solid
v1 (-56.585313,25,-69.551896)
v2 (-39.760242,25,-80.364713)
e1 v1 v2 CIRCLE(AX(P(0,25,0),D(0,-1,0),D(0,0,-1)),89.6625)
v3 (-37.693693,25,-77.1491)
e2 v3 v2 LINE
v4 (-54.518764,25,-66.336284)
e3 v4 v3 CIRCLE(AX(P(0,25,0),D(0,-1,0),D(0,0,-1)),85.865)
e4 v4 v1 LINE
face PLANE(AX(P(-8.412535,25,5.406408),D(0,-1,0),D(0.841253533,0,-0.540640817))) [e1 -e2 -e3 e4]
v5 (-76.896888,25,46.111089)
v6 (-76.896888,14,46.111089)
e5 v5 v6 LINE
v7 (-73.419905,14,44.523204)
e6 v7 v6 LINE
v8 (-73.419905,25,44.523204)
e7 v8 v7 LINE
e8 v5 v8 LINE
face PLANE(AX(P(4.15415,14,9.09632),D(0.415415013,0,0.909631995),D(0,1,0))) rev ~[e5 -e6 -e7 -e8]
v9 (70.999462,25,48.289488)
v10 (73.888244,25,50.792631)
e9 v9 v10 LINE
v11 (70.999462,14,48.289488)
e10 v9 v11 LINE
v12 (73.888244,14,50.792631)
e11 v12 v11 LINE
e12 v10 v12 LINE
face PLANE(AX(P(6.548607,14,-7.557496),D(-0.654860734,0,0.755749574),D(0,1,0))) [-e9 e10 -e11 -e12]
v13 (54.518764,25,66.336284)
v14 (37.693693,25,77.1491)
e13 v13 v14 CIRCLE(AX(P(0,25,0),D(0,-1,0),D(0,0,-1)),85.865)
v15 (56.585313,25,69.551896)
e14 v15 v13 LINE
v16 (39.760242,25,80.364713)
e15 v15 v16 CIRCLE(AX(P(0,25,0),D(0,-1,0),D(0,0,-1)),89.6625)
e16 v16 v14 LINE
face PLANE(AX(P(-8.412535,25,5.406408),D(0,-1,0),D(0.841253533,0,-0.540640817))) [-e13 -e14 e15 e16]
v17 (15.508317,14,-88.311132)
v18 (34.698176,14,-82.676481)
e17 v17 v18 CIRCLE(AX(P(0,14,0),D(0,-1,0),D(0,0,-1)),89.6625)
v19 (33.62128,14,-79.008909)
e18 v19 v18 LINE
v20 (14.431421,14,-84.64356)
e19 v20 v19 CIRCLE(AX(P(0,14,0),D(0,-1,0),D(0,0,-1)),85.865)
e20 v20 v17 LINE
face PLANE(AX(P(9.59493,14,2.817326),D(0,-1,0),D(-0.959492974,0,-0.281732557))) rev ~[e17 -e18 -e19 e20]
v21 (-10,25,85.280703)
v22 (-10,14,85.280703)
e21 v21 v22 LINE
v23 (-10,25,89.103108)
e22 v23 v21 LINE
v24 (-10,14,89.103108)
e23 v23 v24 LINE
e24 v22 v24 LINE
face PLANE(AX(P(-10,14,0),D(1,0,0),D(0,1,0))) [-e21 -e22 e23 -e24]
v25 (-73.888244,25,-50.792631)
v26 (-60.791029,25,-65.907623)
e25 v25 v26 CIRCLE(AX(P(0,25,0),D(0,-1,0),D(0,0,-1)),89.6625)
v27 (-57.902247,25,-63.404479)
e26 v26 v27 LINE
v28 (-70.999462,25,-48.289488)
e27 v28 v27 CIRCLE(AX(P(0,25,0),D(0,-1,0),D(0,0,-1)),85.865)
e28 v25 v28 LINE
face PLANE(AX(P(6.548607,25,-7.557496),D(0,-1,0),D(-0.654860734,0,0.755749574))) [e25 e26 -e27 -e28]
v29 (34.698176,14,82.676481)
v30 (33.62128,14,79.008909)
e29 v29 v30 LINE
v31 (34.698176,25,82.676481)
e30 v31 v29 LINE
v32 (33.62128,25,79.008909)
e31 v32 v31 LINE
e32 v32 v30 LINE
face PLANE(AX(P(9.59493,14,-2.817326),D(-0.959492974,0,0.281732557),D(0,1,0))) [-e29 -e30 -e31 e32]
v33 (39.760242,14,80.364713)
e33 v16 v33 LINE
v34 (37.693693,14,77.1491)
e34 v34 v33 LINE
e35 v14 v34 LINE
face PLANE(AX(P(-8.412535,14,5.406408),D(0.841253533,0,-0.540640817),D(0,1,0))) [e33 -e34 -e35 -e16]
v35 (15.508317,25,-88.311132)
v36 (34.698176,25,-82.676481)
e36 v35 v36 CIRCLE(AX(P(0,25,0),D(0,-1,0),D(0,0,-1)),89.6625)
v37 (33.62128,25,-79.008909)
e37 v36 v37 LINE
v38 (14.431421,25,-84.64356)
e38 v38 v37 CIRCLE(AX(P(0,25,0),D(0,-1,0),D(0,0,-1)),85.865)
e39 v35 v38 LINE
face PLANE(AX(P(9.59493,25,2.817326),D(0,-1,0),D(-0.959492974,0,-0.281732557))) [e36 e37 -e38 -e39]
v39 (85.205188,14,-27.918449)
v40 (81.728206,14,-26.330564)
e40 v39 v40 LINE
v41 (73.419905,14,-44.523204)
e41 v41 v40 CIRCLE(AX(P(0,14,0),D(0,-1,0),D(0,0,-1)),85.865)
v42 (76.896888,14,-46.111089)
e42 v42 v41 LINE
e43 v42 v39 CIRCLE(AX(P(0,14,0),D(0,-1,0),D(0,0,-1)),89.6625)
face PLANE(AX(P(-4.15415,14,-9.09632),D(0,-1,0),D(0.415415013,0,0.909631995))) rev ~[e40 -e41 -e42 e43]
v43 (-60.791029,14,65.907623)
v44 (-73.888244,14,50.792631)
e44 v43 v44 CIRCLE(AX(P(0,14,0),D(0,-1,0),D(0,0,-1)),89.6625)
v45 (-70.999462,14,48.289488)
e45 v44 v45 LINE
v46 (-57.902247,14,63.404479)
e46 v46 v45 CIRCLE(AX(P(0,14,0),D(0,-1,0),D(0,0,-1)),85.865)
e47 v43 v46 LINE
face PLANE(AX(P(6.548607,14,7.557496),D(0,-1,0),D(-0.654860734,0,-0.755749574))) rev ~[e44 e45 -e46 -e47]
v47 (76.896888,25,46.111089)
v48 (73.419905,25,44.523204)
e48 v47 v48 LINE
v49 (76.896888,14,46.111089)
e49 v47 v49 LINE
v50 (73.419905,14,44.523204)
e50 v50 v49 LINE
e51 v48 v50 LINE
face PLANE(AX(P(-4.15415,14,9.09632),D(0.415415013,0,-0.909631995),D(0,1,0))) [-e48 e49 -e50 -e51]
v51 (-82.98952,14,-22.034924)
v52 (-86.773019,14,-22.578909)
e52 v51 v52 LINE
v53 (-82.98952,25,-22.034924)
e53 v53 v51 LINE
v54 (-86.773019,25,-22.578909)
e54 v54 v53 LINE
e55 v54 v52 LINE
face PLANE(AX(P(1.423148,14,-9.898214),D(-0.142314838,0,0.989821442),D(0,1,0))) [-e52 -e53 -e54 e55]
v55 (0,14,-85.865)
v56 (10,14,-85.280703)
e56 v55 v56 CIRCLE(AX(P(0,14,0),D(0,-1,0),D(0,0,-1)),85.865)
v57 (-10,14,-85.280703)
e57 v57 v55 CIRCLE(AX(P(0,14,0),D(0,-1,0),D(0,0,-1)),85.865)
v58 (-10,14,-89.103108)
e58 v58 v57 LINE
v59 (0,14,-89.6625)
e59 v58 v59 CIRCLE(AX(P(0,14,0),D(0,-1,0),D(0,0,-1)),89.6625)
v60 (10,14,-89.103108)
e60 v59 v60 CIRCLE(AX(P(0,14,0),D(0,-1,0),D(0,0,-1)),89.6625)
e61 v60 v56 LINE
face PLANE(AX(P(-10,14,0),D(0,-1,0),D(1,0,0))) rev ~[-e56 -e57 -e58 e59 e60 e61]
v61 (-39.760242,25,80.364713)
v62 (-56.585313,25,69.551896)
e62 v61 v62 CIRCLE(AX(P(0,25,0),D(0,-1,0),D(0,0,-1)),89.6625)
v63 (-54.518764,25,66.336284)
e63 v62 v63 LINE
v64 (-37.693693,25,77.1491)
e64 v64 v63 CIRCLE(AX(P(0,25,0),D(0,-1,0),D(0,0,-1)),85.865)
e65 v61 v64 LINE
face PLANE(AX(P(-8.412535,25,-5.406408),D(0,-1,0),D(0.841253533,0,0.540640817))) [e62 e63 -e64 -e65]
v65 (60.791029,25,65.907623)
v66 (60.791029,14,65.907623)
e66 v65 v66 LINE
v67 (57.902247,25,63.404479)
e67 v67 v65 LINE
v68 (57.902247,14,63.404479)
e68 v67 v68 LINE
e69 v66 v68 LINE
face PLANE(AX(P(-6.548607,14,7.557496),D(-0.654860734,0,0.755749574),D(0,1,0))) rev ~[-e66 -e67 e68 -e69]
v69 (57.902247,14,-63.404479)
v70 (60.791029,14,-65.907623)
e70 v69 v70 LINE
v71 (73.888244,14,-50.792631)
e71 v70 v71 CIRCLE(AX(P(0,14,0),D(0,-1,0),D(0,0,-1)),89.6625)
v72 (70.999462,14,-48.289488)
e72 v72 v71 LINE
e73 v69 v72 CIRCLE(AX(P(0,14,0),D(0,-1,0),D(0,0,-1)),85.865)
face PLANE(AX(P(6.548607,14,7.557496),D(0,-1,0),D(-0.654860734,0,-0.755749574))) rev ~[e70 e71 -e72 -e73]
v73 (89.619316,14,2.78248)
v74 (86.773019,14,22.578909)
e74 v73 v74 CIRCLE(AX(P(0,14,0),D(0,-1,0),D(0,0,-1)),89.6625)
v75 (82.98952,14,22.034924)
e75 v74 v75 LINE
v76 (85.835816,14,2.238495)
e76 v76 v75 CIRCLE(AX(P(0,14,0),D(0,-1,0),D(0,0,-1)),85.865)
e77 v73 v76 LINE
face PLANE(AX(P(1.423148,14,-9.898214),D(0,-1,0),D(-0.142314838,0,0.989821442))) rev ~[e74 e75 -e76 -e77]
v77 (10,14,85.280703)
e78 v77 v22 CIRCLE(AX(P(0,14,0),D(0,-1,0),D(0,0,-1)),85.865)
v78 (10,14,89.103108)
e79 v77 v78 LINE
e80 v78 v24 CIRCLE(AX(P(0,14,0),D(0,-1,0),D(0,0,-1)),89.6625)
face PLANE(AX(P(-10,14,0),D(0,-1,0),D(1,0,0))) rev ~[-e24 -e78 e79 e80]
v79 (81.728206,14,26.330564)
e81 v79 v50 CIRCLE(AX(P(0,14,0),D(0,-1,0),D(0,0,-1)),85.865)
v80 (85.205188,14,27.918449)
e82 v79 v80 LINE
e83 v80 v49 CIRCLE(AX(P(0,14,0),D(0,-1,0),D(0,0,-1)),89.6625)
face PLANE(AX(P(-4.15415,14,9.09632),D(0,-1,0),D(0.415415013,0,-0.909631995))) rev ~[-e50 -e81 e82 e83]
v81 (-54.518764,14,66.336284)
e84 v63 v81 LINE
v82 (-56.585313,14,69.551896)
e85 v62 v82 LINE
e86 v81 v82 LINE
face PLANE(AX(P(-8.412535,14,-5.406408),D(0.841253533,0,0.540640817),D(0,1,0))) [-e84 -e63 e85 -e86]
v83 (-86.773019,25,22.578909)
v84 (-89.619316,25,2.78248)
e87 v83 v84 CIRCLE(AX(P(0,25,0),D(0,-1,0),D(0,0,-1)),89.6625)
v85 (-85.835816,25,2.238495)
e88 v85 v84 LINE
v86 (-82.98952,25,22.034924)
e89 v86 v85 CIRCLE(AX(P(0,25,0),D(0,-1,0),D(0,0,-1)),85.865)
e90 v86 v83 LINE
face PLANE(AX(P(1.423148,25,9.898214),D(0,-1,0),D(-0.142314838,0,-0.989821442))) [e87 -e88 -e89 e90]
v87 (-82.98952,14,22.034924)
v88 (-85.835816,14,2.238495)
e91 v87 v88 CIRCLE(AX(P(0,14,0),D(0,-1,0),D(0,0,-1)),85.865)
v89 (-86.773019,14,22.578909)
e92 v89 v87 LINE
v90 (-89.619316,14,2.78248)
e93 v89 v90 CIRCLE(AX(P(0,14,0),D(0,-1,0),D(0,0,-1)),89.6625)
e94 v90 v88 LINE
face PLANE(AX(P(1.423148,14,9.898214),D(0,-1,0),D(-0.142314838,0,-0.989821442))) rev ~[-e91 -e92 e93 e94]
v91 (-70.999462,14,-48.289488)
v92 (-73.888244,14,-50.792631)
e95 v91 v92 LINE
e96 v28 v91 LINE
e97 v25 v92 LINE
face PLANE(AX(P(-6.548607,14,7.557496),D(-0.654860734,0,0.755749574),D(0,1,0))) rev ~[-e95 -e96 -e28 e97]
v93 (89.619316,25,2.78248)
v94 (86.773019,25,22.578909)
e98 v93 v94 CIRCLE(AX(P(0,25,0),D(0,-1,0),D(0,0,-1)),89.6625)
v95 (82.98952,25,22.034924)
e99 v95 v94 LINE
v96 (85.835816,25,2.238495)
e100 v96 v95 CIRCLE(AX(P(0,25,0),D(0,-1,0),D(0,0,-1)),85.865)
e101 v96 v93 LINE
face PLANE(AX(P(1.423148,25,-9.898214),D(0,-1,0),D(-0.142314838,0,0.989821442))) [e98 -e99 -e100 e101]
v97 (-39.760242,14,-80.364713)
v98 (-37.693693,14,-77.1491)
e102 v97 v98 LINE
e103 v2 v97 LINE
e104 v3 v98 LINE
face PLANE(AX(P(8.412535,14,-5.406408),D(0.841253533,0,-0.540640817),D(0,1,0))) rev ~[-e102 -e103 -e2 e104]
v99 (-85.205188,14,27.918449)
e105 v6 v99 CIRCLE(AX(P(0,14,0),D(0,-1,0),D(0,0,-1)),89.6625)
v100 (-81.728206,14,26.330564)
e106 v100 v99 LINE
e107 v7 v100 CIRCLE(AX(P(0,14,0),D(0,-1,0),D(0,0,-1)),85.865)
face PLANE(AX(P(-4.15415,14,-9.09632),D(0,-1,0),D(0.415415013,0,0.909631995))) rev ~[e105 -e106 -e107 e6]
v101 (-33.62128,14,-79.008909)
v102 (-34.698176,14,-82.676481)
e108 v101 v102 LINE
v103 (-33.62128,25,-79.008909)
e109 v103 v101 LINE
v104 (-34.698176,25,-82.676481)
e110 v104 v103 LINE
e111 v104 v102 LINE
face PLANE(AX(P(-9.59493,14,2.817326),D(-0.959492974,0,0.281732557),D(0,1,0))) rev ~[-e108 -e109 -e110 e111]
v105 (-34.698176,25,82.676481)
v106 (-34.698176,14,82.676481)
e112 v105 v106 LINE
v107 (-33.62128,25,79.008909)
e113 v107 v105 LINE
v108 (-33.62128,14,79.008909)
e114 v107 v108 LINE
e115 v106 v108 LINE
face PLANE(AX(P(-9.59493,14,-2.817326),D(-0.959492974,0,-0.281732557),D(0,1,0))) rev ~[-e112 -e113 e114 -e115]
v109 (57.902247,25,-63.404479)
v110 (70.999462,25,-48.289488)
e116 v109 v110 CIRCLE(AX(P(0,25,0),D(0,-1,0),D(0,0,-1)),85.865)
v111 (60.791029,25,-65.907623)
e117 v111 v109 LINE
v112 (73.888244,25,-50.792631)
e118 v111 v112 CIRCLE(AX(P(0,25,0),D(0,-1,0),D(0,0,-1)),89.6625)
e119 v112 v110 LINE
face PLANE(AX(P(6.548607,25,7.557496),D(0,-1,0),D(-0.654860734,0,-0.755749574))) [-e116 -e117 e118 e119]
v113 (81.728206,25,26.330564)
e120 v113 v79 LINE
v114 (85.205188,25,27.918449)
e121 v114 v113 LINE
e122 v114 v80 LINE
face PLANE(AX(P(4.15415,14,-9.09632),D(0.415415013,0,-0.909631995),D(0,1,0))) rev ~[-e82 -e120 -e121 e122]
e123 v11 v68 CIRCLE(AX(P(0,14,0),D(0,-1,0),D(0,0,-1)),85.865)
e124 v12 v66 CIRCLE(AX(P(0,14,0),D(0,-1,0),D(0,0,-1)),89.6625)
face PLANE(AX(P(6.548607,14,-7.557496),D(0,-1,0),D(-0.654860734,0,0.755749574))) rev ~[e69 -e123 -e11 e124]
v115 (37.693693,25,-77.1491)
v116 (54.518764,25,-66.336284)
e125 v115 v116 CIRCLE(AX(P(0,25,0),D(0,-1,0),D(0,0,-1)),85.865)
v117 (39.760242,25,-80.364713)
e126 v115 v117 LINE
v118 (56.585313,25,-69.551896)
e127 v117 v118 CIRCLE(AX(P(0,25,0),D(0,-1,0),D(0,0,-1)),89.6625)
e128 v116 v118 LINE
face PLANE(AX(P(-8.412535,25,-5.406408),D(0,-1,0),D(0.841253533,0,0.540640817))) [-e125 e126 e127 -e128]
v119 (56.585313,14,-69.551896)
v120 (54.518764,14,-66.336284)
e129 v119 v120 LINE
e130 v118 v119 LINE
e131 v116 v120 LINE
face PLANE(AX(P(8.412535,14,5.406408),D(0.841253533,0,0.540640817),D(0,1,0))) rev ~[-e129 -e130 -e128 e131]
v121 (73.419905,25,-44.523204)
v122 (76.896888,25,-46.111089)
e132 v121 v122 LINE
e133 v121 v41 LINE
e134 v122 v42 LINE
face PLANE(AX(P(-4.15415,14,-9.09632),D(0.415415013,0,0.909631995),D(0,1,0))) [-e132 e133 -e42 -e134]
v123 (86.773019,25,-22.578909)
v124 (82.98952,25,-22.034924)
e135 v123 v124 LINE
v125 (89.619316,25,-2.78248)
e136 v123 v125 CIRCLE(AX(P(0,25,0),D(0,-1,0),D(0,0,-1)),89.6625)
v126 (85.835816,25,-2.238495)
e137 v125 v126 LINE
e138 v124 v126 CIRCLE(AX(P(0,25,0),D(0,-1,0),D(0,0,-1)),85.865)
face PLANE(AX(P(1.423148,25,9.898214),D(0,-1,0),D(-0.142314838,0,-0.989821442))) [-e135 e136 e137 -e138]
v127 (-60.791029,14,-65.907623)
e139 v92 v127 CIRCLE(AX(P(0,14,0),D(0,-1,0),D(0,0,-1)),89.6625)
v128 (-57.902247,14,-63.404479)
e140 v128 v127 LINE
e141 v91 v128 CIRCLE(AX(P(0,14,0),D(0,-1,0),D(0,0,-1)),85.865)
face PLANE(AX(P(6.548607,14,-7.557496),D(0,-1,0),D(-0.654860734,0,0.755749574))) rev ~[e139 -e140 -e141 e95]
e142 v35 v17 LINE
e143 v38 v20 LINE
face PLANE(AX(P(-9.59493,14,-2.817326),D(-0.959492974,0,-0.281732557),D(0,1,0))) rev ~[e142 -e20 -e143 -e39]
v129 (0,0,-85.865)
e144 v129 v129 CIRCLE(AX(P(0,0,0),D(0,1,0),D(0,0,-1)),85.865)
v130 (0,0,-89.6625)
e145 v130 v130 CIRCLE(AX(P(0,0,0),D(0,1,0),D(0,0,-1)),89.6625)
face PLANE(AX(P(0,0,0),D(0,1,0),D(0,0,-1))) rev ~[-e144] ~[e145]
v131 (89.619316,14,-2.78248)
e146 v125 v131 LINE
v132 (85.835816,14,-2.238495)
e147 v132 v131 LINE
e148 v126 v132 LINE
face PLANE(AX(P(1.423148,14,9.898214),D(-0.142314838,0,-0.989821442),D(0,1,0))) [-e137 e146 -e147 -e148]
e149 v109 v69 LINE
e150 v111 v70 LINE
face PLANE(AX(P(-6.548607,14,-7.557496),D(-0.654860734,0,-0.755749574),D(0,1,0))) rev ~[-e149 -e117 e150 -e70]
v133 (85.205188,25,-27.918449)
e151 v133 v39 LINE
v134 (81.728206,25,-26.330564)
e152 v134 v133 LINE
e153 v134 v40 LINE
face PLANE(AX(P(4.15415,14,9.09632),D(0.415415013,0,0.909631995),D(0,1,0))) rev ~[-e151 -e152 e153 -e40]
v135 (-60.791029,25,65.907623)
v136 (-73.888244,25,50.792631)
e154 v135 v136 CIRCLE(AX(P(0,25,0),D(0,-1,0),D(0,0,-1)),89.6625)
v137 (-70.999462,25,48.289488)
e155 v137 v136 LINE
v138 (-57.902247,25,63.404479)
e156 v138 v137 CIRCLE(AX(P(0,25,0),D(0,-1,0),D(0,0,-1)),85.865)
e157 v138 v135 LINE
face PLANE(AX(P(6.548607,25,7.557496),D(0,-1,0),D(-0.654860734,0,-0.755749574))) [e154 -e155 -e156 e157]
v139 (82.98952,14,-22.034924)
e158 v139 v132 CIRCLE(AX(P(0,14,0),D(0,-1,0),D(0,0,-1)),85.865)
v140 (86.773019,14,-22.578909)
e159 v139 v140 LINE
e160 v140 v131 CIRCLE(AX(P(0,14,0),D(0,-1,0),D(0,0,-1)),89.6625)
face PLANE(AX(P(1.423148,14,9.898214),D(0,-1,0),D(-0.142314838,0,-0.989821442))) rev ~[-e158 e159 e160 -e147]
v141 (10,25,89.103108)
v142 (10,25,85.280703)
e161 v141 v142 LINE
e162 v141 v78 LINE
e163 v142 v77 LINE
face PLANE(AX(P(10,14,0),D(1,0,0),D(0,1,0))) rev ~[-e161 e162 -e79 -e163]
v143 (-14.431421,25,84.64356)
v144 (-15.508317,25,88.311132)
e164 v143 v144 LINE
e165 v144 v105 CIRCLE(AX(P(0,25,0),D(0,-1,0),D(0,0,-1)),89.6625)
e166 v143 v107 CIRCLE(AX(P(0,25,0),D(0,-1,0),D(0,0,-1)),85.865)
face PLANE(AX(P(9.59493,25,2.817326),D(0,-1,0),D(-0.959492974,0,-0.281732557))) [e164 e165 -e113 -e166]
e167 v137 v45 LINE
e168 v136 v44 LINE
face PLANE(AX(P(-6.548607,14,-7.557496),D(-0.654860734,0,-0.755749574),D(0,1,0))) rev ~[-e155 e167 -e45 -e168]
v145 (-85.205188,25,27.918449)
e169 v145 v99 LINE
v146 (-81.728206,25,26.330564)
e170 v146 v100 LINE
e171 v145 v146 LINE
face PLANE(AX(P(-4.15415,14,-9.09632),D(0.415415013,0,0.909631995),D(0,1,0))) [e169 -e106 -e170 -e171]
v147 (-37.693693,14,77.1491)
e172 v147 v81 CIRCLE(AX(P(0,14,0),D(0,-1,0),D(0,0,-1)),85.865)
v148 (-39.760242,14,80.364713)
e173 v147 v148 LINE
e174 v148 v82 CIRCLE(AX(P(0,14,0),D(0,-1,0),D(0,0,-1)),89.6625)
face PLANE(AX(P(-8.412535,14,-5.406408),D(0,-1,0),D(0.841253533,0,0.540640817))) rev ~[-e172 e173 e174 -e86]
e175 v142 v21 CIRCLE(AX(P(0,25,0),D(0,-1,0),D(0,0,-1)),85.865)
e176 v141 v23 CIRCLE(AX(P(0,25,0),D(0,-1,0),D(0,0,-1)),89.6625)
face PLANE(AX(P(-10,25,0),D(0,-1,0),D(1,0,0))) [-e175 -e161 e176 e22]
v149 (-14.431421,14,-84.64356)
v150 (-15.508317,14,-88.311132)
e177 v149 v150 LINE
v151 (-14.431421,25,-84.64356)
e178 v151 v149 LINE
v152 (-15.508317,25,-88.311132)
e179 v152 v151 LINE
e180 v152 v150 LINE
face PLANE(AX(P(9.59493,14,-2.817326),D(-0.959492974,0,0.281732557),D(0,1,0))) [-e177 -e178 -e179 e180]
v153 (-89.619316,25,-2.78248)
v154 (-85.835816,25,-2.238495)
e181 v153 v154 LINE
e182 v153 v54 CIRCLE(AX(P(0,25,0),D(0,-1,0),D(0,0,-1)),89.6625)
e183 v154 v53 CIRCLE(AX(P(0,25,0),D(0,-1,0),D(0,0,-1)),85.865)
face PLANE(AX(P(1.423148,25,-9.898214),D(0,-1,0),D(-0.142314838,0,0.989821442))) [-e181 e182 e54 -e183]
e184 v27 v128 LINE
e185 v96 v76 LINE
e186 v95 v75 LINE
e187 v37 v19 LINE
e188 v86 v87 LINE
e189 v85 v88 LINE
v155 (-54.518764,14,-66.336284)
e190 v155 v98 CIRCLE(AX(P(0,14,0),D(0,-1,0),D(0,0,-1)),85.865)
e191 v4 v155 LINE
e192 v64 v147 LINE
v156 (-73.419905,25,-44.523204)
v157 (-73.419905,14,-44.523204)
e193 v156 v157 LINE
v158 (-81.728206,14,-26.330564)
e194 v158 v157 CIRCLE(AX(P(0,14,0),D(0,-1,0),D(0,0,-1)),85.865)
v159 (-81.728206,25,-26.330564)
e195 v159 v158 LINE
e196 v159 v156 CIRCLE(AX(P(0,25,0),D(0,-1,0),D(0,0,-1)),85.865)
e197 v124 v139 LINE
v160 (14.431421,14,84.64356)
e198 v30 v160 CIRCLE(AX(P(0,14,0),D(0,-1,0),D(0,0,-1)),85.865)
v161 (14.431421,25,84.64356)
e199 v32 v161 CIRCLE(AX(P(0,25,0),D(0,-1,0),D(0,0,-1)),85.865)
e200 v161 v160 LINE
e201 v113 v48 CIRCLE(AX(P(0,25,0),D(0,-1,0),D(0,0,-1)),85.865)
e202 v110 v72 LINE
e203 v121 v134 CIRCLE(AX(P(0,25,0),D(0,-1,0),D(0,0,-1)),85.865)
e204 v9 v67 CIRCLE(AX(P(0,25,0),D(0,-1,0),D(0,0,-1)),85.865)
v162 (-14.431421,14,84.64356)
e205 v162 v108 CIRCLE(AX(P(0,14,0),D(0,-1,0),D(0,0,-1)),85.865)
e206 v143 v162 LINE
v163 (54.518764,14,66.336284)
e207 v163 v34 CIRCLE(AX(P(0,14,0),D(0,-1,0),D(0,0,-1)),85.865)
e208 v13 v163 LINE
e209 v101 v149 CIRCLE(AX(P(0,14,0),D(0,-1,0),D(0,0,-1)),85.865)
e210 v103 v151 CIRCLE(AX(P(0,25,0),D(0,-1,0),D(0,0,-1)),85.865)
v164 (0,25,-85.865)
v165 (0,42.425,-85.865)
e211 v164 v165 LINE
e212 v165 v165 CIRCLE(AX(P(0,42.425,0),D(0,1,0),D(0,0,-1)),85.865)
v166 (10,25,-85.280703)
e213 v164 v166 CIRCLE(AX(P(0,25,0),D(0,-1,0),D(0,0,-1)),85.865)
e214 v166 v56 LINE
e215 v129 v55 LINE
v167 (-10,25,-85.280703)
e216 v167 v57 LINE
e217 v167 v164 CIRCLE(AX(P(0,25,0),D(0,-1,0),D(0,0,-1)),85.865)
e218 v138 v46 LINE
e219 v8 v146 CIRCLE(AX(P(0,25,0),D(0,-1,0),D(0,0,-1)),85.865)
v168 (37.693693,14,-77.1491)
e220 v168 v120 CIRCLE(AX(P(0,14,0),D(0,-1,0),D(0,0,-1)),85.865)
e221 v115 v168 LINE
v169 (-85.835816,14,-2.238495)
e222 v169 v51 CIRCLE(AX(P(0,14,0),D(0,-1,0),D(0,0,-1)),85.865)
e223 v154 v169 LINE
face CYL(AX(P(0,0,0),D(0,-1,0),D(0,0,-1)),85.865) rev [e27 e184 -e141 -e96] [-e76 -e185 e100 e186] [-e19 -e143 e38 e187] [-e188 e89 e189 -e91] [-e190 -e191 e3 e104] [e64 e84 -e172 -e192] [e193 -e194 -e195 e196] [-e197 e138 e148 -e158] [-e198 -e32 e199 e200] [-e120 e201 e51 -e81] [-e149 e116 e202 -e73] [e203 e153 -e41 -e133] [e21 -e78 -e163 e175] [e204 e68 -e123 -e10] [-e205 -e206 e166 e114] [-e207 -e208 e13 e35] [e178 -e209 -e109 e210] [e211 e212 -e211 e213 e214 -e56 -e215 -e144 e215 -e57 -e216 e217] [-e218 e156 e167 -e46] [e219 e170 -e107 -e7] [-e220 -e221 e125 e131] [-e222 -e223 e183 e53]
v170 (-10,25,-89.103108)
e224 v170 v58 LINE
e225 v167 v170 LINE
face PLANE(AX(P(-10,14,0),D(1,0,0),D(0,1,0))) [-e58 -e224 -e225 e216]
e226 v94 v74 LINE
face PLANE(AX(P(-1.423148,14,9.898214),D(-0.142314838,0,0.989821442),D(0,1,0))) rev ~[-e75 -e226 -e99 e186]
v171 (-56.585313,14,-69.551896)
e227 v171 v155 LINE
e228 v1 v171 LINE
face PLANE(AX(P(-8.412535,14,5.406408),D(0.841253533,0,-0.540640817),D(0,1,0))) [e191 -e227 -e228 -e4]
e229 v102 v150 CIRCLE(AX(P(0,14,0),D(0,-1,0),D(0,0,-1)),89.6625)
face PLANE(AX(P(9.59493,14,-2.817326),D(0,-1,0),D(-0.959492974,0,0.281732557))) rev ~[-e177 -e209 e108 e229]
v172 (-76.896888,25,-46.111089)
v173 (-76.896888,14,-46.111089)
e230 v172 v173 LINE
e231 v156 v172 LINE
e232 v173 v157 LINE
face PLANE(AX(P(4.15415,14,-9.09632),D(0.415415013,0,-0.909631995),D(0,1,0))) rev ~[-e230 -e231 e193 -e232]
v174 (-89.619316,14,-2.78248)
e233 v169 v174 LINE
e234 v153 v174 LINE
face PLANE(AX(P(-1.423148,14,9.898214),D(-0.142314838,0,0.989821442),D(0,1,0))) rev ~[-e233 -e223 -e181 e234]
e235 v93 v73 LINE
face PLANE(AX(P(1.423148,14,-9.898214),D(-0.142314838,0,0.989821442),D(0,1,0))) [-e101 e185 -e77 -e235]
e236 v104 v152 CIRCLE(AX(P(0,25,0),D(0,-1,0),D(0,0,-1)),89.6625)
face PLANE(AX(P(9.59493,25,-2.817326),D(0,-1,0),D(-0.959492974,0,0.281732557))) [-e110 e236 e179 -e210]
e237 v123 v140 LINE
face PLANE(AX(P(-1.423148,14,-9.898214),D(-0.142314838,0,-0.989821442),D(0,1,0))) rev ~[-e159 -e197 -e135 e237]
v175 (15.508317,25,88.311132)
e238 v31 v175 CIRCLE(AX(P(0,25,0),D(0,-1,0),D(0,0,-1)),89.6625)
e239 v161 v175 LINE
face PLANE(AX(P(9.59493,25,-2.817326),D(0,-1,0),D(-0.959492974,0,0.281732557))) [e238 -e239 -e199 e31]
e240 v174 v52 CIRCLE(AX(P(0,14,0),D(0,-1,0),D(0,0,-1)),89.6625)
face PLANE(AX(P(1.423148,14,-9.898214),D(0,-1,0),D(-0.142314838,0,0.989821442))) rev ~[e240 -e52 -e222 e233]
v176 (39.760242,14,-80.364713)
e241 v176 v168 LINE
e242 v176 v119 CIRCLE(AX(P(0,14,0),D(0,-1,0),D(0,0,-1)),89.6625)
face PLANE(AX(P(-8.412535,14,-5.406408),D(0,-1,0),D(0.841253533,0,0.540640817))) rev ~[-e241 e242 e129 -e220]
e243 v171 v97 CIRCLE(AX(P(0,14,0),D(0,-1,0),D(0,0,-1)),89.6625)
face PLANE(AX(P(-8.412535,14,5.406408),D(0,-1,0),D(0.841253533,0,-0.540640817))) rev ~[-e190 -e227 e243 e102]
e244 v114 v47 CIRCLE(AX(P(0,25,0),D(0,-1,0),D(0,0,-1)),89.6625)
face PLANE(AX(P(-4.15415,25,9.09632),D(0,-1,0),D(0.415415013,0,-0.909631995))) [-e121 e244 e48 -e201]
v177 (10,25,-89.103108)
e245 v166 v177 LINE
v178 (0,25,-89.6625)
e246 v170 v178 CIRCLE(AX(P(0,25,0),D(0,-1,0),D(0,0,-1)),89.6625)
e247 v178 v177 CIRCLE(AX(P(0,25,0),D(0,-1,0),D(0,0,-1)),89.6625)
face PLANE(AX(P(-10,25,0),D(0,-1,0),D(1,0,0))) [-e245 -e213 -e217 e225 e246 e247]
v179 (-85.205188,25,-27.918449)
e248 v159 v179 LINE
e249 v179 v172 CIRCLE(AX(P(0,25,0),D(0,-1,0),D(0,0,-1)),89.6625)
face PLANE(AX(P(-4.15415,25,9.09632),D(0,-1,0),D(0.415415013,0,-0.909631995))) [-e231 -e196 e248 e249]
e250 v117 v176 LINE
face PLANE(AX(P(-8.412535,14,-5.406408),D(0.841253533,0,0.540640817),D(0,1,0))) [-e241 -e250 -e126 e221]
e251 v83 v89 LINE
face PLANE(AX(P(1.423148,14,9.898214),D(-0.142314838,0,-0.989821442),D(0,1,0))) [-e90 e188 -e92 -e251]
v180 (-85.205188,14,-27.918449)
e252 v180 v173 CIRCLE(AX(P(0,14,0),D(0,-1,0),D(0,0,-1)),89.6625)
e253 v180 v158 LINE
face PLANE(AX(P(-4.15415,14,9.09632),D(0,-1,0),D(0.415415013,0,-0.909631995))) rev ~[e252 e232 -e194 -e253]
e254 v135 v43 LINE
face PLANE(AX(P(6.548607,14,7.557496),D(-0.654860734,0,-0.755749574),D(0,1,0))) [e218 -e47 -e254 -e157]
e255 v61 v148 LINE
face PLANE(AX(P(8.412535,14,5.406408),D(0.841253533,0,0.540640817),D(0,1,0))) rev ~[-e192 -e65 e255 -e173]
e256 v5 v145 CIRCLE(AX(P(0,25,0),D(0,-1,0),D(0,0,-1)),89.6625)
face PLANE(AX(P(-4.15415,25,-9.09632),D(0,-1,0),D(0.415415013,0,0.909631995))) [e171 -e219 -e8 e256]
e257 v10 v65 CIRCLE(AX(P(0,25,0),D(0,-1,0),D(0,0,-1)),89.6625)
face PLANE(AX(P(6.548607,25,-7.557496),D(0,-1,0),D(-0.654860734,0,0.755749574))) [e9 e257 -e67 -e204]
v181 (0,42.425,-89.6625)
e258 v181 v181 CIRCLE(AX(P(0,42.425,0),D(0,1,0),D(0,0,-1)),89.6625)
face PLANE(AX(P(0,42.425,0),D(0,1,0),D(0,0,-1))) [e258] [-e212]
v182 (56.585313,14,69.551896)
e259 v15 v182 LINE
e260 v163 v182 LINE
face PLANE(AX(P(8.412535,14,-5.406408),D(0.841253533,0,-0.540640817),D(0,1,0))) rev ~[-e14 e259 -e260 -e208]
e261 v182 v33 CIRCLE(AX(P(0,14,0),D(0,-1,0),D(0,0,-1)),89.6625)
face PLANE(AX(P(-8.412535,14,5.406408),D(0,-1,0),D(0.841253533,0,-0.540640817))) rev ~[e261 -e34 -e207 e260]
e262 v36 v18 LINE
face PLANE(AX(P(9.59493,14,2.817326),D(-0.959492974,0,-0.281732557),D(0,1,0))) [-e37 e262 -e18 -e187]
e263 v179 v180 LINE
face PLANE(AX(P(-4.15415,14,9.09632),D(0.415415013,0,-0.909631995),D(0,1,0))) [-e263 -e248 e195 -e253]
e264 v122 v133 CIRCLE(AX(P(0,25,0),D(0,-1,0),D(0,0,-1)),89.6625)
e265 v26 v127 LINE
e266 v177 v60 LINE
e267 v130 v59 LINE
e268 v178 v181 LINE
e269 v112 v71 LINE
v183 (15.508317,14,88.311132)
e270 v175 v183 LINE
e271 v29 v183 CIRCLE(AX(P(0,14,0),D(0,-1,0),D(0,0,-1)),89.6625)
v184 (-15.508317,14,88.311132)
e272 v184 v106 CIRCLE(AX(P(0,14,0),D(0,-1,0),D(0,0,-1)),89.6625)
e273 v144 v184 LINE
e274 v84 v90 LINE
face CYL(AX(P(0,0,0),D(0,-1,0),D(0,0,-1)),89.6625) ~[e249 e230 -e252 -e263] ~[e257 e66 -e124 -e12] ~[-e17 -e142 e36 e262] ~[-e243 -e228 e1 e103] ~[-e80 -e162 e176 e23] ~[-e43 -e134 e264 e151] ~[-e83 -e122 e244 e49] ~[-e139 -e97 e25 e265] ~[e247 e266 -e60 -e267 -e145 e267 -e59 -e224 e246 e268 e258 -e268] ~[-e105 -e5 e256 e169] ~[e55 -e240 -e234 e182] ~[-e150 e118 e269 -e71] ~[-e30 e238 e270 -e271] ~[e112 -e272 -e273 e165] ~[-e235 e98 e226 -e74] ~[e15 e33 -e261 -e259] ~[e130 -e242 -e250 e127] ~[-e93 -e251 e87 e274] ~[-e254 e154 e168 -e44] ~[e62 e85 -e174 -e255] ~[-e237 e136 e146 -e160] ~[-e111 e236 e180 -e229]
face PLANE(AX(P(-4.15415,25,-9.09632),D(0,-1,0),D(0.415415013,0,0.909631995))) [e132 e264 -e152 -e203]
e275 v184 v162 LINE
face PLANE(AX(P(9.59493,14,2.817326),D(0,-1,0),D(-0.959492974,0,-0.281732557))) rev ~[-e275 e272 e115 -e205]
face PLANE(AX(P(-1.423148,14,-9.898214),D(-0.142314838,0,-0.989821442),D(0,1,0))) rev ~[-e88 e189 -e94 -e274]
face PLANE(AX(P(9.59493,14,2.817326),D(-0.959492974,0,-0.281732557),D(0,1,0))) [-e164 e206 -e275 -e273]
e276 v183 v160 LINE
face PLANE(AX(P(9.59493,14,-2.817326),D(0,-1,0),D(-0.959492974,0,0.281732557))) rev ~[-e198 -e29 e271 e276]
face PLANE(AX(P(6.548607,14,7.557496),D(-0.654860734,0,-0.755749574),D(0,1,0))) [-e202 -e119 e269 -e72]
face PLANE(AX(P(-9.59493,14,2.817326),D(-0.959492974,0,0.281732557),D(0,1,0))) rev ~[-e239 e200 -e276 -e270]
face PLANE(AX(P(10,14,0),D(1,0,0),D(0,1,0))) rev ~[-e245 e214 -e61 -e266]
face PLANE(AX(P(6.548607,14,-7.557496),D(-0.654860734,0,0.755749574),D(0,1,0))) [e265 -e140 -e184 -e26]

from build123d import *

# Parameters (mm, degrees)
SKETCH1_R           = 89.6625
SKETCH1_R_2         = 85.865
BOSS_EXTRUDE1_DEPTH = 42.425
SKETCH2_W           = 20
SKETCH2_H           = 11
CUT_EXTRUDE1_DEPTH  = 134.710913681
CIRPATTERN1_COUNT   = 11


with BuildPart() as part:
    # Sketch1 → Boss-Extrude1 (new body)
    with BuildSketch(Plane(origin=(0, 0, 0), x_dir=(1, 0, 0), z_dir=(0, 1, 0))):
        with Locations(Location((0, 0, 0), (0, 0, 90))):
            Circle(SKETCH1_R)
        with Locations(Location((0, 0, 0), (0, 0, 90))):
            Circle(SKETCH1_R_2, mode=Mode.SUBTRACT)
    extrude(amount=BOSS_EXTRUDE1_DEPTH)

    # Sketch2 → Cut-Extrude1 (cut, symmetric)
    with BuildSketch(Plane.XY):
        with Locations((0, 19.5)):
            Rectangle(SKETCH2_W, SKETCH2_H)
    cut_extrude1 = extrude(amount=CUT_EXTRUDE1_DEPTH, both=True, mode=Mode.SUBTRACT)

    # CirPattern1: Cut-Extrude1 ×11 about axis
    cirpattern1_axis = Axis((0, 0, 0), (0, 1, 0))
    for i in range(1, CIRPATTERN1_COUNT):
        add(cut_extrude1.rotate(cirpattern1_axis, i * 360 / CIRPATTERN1_COUNT), mode=Mode.SUBTRACT)


solid = part.part
